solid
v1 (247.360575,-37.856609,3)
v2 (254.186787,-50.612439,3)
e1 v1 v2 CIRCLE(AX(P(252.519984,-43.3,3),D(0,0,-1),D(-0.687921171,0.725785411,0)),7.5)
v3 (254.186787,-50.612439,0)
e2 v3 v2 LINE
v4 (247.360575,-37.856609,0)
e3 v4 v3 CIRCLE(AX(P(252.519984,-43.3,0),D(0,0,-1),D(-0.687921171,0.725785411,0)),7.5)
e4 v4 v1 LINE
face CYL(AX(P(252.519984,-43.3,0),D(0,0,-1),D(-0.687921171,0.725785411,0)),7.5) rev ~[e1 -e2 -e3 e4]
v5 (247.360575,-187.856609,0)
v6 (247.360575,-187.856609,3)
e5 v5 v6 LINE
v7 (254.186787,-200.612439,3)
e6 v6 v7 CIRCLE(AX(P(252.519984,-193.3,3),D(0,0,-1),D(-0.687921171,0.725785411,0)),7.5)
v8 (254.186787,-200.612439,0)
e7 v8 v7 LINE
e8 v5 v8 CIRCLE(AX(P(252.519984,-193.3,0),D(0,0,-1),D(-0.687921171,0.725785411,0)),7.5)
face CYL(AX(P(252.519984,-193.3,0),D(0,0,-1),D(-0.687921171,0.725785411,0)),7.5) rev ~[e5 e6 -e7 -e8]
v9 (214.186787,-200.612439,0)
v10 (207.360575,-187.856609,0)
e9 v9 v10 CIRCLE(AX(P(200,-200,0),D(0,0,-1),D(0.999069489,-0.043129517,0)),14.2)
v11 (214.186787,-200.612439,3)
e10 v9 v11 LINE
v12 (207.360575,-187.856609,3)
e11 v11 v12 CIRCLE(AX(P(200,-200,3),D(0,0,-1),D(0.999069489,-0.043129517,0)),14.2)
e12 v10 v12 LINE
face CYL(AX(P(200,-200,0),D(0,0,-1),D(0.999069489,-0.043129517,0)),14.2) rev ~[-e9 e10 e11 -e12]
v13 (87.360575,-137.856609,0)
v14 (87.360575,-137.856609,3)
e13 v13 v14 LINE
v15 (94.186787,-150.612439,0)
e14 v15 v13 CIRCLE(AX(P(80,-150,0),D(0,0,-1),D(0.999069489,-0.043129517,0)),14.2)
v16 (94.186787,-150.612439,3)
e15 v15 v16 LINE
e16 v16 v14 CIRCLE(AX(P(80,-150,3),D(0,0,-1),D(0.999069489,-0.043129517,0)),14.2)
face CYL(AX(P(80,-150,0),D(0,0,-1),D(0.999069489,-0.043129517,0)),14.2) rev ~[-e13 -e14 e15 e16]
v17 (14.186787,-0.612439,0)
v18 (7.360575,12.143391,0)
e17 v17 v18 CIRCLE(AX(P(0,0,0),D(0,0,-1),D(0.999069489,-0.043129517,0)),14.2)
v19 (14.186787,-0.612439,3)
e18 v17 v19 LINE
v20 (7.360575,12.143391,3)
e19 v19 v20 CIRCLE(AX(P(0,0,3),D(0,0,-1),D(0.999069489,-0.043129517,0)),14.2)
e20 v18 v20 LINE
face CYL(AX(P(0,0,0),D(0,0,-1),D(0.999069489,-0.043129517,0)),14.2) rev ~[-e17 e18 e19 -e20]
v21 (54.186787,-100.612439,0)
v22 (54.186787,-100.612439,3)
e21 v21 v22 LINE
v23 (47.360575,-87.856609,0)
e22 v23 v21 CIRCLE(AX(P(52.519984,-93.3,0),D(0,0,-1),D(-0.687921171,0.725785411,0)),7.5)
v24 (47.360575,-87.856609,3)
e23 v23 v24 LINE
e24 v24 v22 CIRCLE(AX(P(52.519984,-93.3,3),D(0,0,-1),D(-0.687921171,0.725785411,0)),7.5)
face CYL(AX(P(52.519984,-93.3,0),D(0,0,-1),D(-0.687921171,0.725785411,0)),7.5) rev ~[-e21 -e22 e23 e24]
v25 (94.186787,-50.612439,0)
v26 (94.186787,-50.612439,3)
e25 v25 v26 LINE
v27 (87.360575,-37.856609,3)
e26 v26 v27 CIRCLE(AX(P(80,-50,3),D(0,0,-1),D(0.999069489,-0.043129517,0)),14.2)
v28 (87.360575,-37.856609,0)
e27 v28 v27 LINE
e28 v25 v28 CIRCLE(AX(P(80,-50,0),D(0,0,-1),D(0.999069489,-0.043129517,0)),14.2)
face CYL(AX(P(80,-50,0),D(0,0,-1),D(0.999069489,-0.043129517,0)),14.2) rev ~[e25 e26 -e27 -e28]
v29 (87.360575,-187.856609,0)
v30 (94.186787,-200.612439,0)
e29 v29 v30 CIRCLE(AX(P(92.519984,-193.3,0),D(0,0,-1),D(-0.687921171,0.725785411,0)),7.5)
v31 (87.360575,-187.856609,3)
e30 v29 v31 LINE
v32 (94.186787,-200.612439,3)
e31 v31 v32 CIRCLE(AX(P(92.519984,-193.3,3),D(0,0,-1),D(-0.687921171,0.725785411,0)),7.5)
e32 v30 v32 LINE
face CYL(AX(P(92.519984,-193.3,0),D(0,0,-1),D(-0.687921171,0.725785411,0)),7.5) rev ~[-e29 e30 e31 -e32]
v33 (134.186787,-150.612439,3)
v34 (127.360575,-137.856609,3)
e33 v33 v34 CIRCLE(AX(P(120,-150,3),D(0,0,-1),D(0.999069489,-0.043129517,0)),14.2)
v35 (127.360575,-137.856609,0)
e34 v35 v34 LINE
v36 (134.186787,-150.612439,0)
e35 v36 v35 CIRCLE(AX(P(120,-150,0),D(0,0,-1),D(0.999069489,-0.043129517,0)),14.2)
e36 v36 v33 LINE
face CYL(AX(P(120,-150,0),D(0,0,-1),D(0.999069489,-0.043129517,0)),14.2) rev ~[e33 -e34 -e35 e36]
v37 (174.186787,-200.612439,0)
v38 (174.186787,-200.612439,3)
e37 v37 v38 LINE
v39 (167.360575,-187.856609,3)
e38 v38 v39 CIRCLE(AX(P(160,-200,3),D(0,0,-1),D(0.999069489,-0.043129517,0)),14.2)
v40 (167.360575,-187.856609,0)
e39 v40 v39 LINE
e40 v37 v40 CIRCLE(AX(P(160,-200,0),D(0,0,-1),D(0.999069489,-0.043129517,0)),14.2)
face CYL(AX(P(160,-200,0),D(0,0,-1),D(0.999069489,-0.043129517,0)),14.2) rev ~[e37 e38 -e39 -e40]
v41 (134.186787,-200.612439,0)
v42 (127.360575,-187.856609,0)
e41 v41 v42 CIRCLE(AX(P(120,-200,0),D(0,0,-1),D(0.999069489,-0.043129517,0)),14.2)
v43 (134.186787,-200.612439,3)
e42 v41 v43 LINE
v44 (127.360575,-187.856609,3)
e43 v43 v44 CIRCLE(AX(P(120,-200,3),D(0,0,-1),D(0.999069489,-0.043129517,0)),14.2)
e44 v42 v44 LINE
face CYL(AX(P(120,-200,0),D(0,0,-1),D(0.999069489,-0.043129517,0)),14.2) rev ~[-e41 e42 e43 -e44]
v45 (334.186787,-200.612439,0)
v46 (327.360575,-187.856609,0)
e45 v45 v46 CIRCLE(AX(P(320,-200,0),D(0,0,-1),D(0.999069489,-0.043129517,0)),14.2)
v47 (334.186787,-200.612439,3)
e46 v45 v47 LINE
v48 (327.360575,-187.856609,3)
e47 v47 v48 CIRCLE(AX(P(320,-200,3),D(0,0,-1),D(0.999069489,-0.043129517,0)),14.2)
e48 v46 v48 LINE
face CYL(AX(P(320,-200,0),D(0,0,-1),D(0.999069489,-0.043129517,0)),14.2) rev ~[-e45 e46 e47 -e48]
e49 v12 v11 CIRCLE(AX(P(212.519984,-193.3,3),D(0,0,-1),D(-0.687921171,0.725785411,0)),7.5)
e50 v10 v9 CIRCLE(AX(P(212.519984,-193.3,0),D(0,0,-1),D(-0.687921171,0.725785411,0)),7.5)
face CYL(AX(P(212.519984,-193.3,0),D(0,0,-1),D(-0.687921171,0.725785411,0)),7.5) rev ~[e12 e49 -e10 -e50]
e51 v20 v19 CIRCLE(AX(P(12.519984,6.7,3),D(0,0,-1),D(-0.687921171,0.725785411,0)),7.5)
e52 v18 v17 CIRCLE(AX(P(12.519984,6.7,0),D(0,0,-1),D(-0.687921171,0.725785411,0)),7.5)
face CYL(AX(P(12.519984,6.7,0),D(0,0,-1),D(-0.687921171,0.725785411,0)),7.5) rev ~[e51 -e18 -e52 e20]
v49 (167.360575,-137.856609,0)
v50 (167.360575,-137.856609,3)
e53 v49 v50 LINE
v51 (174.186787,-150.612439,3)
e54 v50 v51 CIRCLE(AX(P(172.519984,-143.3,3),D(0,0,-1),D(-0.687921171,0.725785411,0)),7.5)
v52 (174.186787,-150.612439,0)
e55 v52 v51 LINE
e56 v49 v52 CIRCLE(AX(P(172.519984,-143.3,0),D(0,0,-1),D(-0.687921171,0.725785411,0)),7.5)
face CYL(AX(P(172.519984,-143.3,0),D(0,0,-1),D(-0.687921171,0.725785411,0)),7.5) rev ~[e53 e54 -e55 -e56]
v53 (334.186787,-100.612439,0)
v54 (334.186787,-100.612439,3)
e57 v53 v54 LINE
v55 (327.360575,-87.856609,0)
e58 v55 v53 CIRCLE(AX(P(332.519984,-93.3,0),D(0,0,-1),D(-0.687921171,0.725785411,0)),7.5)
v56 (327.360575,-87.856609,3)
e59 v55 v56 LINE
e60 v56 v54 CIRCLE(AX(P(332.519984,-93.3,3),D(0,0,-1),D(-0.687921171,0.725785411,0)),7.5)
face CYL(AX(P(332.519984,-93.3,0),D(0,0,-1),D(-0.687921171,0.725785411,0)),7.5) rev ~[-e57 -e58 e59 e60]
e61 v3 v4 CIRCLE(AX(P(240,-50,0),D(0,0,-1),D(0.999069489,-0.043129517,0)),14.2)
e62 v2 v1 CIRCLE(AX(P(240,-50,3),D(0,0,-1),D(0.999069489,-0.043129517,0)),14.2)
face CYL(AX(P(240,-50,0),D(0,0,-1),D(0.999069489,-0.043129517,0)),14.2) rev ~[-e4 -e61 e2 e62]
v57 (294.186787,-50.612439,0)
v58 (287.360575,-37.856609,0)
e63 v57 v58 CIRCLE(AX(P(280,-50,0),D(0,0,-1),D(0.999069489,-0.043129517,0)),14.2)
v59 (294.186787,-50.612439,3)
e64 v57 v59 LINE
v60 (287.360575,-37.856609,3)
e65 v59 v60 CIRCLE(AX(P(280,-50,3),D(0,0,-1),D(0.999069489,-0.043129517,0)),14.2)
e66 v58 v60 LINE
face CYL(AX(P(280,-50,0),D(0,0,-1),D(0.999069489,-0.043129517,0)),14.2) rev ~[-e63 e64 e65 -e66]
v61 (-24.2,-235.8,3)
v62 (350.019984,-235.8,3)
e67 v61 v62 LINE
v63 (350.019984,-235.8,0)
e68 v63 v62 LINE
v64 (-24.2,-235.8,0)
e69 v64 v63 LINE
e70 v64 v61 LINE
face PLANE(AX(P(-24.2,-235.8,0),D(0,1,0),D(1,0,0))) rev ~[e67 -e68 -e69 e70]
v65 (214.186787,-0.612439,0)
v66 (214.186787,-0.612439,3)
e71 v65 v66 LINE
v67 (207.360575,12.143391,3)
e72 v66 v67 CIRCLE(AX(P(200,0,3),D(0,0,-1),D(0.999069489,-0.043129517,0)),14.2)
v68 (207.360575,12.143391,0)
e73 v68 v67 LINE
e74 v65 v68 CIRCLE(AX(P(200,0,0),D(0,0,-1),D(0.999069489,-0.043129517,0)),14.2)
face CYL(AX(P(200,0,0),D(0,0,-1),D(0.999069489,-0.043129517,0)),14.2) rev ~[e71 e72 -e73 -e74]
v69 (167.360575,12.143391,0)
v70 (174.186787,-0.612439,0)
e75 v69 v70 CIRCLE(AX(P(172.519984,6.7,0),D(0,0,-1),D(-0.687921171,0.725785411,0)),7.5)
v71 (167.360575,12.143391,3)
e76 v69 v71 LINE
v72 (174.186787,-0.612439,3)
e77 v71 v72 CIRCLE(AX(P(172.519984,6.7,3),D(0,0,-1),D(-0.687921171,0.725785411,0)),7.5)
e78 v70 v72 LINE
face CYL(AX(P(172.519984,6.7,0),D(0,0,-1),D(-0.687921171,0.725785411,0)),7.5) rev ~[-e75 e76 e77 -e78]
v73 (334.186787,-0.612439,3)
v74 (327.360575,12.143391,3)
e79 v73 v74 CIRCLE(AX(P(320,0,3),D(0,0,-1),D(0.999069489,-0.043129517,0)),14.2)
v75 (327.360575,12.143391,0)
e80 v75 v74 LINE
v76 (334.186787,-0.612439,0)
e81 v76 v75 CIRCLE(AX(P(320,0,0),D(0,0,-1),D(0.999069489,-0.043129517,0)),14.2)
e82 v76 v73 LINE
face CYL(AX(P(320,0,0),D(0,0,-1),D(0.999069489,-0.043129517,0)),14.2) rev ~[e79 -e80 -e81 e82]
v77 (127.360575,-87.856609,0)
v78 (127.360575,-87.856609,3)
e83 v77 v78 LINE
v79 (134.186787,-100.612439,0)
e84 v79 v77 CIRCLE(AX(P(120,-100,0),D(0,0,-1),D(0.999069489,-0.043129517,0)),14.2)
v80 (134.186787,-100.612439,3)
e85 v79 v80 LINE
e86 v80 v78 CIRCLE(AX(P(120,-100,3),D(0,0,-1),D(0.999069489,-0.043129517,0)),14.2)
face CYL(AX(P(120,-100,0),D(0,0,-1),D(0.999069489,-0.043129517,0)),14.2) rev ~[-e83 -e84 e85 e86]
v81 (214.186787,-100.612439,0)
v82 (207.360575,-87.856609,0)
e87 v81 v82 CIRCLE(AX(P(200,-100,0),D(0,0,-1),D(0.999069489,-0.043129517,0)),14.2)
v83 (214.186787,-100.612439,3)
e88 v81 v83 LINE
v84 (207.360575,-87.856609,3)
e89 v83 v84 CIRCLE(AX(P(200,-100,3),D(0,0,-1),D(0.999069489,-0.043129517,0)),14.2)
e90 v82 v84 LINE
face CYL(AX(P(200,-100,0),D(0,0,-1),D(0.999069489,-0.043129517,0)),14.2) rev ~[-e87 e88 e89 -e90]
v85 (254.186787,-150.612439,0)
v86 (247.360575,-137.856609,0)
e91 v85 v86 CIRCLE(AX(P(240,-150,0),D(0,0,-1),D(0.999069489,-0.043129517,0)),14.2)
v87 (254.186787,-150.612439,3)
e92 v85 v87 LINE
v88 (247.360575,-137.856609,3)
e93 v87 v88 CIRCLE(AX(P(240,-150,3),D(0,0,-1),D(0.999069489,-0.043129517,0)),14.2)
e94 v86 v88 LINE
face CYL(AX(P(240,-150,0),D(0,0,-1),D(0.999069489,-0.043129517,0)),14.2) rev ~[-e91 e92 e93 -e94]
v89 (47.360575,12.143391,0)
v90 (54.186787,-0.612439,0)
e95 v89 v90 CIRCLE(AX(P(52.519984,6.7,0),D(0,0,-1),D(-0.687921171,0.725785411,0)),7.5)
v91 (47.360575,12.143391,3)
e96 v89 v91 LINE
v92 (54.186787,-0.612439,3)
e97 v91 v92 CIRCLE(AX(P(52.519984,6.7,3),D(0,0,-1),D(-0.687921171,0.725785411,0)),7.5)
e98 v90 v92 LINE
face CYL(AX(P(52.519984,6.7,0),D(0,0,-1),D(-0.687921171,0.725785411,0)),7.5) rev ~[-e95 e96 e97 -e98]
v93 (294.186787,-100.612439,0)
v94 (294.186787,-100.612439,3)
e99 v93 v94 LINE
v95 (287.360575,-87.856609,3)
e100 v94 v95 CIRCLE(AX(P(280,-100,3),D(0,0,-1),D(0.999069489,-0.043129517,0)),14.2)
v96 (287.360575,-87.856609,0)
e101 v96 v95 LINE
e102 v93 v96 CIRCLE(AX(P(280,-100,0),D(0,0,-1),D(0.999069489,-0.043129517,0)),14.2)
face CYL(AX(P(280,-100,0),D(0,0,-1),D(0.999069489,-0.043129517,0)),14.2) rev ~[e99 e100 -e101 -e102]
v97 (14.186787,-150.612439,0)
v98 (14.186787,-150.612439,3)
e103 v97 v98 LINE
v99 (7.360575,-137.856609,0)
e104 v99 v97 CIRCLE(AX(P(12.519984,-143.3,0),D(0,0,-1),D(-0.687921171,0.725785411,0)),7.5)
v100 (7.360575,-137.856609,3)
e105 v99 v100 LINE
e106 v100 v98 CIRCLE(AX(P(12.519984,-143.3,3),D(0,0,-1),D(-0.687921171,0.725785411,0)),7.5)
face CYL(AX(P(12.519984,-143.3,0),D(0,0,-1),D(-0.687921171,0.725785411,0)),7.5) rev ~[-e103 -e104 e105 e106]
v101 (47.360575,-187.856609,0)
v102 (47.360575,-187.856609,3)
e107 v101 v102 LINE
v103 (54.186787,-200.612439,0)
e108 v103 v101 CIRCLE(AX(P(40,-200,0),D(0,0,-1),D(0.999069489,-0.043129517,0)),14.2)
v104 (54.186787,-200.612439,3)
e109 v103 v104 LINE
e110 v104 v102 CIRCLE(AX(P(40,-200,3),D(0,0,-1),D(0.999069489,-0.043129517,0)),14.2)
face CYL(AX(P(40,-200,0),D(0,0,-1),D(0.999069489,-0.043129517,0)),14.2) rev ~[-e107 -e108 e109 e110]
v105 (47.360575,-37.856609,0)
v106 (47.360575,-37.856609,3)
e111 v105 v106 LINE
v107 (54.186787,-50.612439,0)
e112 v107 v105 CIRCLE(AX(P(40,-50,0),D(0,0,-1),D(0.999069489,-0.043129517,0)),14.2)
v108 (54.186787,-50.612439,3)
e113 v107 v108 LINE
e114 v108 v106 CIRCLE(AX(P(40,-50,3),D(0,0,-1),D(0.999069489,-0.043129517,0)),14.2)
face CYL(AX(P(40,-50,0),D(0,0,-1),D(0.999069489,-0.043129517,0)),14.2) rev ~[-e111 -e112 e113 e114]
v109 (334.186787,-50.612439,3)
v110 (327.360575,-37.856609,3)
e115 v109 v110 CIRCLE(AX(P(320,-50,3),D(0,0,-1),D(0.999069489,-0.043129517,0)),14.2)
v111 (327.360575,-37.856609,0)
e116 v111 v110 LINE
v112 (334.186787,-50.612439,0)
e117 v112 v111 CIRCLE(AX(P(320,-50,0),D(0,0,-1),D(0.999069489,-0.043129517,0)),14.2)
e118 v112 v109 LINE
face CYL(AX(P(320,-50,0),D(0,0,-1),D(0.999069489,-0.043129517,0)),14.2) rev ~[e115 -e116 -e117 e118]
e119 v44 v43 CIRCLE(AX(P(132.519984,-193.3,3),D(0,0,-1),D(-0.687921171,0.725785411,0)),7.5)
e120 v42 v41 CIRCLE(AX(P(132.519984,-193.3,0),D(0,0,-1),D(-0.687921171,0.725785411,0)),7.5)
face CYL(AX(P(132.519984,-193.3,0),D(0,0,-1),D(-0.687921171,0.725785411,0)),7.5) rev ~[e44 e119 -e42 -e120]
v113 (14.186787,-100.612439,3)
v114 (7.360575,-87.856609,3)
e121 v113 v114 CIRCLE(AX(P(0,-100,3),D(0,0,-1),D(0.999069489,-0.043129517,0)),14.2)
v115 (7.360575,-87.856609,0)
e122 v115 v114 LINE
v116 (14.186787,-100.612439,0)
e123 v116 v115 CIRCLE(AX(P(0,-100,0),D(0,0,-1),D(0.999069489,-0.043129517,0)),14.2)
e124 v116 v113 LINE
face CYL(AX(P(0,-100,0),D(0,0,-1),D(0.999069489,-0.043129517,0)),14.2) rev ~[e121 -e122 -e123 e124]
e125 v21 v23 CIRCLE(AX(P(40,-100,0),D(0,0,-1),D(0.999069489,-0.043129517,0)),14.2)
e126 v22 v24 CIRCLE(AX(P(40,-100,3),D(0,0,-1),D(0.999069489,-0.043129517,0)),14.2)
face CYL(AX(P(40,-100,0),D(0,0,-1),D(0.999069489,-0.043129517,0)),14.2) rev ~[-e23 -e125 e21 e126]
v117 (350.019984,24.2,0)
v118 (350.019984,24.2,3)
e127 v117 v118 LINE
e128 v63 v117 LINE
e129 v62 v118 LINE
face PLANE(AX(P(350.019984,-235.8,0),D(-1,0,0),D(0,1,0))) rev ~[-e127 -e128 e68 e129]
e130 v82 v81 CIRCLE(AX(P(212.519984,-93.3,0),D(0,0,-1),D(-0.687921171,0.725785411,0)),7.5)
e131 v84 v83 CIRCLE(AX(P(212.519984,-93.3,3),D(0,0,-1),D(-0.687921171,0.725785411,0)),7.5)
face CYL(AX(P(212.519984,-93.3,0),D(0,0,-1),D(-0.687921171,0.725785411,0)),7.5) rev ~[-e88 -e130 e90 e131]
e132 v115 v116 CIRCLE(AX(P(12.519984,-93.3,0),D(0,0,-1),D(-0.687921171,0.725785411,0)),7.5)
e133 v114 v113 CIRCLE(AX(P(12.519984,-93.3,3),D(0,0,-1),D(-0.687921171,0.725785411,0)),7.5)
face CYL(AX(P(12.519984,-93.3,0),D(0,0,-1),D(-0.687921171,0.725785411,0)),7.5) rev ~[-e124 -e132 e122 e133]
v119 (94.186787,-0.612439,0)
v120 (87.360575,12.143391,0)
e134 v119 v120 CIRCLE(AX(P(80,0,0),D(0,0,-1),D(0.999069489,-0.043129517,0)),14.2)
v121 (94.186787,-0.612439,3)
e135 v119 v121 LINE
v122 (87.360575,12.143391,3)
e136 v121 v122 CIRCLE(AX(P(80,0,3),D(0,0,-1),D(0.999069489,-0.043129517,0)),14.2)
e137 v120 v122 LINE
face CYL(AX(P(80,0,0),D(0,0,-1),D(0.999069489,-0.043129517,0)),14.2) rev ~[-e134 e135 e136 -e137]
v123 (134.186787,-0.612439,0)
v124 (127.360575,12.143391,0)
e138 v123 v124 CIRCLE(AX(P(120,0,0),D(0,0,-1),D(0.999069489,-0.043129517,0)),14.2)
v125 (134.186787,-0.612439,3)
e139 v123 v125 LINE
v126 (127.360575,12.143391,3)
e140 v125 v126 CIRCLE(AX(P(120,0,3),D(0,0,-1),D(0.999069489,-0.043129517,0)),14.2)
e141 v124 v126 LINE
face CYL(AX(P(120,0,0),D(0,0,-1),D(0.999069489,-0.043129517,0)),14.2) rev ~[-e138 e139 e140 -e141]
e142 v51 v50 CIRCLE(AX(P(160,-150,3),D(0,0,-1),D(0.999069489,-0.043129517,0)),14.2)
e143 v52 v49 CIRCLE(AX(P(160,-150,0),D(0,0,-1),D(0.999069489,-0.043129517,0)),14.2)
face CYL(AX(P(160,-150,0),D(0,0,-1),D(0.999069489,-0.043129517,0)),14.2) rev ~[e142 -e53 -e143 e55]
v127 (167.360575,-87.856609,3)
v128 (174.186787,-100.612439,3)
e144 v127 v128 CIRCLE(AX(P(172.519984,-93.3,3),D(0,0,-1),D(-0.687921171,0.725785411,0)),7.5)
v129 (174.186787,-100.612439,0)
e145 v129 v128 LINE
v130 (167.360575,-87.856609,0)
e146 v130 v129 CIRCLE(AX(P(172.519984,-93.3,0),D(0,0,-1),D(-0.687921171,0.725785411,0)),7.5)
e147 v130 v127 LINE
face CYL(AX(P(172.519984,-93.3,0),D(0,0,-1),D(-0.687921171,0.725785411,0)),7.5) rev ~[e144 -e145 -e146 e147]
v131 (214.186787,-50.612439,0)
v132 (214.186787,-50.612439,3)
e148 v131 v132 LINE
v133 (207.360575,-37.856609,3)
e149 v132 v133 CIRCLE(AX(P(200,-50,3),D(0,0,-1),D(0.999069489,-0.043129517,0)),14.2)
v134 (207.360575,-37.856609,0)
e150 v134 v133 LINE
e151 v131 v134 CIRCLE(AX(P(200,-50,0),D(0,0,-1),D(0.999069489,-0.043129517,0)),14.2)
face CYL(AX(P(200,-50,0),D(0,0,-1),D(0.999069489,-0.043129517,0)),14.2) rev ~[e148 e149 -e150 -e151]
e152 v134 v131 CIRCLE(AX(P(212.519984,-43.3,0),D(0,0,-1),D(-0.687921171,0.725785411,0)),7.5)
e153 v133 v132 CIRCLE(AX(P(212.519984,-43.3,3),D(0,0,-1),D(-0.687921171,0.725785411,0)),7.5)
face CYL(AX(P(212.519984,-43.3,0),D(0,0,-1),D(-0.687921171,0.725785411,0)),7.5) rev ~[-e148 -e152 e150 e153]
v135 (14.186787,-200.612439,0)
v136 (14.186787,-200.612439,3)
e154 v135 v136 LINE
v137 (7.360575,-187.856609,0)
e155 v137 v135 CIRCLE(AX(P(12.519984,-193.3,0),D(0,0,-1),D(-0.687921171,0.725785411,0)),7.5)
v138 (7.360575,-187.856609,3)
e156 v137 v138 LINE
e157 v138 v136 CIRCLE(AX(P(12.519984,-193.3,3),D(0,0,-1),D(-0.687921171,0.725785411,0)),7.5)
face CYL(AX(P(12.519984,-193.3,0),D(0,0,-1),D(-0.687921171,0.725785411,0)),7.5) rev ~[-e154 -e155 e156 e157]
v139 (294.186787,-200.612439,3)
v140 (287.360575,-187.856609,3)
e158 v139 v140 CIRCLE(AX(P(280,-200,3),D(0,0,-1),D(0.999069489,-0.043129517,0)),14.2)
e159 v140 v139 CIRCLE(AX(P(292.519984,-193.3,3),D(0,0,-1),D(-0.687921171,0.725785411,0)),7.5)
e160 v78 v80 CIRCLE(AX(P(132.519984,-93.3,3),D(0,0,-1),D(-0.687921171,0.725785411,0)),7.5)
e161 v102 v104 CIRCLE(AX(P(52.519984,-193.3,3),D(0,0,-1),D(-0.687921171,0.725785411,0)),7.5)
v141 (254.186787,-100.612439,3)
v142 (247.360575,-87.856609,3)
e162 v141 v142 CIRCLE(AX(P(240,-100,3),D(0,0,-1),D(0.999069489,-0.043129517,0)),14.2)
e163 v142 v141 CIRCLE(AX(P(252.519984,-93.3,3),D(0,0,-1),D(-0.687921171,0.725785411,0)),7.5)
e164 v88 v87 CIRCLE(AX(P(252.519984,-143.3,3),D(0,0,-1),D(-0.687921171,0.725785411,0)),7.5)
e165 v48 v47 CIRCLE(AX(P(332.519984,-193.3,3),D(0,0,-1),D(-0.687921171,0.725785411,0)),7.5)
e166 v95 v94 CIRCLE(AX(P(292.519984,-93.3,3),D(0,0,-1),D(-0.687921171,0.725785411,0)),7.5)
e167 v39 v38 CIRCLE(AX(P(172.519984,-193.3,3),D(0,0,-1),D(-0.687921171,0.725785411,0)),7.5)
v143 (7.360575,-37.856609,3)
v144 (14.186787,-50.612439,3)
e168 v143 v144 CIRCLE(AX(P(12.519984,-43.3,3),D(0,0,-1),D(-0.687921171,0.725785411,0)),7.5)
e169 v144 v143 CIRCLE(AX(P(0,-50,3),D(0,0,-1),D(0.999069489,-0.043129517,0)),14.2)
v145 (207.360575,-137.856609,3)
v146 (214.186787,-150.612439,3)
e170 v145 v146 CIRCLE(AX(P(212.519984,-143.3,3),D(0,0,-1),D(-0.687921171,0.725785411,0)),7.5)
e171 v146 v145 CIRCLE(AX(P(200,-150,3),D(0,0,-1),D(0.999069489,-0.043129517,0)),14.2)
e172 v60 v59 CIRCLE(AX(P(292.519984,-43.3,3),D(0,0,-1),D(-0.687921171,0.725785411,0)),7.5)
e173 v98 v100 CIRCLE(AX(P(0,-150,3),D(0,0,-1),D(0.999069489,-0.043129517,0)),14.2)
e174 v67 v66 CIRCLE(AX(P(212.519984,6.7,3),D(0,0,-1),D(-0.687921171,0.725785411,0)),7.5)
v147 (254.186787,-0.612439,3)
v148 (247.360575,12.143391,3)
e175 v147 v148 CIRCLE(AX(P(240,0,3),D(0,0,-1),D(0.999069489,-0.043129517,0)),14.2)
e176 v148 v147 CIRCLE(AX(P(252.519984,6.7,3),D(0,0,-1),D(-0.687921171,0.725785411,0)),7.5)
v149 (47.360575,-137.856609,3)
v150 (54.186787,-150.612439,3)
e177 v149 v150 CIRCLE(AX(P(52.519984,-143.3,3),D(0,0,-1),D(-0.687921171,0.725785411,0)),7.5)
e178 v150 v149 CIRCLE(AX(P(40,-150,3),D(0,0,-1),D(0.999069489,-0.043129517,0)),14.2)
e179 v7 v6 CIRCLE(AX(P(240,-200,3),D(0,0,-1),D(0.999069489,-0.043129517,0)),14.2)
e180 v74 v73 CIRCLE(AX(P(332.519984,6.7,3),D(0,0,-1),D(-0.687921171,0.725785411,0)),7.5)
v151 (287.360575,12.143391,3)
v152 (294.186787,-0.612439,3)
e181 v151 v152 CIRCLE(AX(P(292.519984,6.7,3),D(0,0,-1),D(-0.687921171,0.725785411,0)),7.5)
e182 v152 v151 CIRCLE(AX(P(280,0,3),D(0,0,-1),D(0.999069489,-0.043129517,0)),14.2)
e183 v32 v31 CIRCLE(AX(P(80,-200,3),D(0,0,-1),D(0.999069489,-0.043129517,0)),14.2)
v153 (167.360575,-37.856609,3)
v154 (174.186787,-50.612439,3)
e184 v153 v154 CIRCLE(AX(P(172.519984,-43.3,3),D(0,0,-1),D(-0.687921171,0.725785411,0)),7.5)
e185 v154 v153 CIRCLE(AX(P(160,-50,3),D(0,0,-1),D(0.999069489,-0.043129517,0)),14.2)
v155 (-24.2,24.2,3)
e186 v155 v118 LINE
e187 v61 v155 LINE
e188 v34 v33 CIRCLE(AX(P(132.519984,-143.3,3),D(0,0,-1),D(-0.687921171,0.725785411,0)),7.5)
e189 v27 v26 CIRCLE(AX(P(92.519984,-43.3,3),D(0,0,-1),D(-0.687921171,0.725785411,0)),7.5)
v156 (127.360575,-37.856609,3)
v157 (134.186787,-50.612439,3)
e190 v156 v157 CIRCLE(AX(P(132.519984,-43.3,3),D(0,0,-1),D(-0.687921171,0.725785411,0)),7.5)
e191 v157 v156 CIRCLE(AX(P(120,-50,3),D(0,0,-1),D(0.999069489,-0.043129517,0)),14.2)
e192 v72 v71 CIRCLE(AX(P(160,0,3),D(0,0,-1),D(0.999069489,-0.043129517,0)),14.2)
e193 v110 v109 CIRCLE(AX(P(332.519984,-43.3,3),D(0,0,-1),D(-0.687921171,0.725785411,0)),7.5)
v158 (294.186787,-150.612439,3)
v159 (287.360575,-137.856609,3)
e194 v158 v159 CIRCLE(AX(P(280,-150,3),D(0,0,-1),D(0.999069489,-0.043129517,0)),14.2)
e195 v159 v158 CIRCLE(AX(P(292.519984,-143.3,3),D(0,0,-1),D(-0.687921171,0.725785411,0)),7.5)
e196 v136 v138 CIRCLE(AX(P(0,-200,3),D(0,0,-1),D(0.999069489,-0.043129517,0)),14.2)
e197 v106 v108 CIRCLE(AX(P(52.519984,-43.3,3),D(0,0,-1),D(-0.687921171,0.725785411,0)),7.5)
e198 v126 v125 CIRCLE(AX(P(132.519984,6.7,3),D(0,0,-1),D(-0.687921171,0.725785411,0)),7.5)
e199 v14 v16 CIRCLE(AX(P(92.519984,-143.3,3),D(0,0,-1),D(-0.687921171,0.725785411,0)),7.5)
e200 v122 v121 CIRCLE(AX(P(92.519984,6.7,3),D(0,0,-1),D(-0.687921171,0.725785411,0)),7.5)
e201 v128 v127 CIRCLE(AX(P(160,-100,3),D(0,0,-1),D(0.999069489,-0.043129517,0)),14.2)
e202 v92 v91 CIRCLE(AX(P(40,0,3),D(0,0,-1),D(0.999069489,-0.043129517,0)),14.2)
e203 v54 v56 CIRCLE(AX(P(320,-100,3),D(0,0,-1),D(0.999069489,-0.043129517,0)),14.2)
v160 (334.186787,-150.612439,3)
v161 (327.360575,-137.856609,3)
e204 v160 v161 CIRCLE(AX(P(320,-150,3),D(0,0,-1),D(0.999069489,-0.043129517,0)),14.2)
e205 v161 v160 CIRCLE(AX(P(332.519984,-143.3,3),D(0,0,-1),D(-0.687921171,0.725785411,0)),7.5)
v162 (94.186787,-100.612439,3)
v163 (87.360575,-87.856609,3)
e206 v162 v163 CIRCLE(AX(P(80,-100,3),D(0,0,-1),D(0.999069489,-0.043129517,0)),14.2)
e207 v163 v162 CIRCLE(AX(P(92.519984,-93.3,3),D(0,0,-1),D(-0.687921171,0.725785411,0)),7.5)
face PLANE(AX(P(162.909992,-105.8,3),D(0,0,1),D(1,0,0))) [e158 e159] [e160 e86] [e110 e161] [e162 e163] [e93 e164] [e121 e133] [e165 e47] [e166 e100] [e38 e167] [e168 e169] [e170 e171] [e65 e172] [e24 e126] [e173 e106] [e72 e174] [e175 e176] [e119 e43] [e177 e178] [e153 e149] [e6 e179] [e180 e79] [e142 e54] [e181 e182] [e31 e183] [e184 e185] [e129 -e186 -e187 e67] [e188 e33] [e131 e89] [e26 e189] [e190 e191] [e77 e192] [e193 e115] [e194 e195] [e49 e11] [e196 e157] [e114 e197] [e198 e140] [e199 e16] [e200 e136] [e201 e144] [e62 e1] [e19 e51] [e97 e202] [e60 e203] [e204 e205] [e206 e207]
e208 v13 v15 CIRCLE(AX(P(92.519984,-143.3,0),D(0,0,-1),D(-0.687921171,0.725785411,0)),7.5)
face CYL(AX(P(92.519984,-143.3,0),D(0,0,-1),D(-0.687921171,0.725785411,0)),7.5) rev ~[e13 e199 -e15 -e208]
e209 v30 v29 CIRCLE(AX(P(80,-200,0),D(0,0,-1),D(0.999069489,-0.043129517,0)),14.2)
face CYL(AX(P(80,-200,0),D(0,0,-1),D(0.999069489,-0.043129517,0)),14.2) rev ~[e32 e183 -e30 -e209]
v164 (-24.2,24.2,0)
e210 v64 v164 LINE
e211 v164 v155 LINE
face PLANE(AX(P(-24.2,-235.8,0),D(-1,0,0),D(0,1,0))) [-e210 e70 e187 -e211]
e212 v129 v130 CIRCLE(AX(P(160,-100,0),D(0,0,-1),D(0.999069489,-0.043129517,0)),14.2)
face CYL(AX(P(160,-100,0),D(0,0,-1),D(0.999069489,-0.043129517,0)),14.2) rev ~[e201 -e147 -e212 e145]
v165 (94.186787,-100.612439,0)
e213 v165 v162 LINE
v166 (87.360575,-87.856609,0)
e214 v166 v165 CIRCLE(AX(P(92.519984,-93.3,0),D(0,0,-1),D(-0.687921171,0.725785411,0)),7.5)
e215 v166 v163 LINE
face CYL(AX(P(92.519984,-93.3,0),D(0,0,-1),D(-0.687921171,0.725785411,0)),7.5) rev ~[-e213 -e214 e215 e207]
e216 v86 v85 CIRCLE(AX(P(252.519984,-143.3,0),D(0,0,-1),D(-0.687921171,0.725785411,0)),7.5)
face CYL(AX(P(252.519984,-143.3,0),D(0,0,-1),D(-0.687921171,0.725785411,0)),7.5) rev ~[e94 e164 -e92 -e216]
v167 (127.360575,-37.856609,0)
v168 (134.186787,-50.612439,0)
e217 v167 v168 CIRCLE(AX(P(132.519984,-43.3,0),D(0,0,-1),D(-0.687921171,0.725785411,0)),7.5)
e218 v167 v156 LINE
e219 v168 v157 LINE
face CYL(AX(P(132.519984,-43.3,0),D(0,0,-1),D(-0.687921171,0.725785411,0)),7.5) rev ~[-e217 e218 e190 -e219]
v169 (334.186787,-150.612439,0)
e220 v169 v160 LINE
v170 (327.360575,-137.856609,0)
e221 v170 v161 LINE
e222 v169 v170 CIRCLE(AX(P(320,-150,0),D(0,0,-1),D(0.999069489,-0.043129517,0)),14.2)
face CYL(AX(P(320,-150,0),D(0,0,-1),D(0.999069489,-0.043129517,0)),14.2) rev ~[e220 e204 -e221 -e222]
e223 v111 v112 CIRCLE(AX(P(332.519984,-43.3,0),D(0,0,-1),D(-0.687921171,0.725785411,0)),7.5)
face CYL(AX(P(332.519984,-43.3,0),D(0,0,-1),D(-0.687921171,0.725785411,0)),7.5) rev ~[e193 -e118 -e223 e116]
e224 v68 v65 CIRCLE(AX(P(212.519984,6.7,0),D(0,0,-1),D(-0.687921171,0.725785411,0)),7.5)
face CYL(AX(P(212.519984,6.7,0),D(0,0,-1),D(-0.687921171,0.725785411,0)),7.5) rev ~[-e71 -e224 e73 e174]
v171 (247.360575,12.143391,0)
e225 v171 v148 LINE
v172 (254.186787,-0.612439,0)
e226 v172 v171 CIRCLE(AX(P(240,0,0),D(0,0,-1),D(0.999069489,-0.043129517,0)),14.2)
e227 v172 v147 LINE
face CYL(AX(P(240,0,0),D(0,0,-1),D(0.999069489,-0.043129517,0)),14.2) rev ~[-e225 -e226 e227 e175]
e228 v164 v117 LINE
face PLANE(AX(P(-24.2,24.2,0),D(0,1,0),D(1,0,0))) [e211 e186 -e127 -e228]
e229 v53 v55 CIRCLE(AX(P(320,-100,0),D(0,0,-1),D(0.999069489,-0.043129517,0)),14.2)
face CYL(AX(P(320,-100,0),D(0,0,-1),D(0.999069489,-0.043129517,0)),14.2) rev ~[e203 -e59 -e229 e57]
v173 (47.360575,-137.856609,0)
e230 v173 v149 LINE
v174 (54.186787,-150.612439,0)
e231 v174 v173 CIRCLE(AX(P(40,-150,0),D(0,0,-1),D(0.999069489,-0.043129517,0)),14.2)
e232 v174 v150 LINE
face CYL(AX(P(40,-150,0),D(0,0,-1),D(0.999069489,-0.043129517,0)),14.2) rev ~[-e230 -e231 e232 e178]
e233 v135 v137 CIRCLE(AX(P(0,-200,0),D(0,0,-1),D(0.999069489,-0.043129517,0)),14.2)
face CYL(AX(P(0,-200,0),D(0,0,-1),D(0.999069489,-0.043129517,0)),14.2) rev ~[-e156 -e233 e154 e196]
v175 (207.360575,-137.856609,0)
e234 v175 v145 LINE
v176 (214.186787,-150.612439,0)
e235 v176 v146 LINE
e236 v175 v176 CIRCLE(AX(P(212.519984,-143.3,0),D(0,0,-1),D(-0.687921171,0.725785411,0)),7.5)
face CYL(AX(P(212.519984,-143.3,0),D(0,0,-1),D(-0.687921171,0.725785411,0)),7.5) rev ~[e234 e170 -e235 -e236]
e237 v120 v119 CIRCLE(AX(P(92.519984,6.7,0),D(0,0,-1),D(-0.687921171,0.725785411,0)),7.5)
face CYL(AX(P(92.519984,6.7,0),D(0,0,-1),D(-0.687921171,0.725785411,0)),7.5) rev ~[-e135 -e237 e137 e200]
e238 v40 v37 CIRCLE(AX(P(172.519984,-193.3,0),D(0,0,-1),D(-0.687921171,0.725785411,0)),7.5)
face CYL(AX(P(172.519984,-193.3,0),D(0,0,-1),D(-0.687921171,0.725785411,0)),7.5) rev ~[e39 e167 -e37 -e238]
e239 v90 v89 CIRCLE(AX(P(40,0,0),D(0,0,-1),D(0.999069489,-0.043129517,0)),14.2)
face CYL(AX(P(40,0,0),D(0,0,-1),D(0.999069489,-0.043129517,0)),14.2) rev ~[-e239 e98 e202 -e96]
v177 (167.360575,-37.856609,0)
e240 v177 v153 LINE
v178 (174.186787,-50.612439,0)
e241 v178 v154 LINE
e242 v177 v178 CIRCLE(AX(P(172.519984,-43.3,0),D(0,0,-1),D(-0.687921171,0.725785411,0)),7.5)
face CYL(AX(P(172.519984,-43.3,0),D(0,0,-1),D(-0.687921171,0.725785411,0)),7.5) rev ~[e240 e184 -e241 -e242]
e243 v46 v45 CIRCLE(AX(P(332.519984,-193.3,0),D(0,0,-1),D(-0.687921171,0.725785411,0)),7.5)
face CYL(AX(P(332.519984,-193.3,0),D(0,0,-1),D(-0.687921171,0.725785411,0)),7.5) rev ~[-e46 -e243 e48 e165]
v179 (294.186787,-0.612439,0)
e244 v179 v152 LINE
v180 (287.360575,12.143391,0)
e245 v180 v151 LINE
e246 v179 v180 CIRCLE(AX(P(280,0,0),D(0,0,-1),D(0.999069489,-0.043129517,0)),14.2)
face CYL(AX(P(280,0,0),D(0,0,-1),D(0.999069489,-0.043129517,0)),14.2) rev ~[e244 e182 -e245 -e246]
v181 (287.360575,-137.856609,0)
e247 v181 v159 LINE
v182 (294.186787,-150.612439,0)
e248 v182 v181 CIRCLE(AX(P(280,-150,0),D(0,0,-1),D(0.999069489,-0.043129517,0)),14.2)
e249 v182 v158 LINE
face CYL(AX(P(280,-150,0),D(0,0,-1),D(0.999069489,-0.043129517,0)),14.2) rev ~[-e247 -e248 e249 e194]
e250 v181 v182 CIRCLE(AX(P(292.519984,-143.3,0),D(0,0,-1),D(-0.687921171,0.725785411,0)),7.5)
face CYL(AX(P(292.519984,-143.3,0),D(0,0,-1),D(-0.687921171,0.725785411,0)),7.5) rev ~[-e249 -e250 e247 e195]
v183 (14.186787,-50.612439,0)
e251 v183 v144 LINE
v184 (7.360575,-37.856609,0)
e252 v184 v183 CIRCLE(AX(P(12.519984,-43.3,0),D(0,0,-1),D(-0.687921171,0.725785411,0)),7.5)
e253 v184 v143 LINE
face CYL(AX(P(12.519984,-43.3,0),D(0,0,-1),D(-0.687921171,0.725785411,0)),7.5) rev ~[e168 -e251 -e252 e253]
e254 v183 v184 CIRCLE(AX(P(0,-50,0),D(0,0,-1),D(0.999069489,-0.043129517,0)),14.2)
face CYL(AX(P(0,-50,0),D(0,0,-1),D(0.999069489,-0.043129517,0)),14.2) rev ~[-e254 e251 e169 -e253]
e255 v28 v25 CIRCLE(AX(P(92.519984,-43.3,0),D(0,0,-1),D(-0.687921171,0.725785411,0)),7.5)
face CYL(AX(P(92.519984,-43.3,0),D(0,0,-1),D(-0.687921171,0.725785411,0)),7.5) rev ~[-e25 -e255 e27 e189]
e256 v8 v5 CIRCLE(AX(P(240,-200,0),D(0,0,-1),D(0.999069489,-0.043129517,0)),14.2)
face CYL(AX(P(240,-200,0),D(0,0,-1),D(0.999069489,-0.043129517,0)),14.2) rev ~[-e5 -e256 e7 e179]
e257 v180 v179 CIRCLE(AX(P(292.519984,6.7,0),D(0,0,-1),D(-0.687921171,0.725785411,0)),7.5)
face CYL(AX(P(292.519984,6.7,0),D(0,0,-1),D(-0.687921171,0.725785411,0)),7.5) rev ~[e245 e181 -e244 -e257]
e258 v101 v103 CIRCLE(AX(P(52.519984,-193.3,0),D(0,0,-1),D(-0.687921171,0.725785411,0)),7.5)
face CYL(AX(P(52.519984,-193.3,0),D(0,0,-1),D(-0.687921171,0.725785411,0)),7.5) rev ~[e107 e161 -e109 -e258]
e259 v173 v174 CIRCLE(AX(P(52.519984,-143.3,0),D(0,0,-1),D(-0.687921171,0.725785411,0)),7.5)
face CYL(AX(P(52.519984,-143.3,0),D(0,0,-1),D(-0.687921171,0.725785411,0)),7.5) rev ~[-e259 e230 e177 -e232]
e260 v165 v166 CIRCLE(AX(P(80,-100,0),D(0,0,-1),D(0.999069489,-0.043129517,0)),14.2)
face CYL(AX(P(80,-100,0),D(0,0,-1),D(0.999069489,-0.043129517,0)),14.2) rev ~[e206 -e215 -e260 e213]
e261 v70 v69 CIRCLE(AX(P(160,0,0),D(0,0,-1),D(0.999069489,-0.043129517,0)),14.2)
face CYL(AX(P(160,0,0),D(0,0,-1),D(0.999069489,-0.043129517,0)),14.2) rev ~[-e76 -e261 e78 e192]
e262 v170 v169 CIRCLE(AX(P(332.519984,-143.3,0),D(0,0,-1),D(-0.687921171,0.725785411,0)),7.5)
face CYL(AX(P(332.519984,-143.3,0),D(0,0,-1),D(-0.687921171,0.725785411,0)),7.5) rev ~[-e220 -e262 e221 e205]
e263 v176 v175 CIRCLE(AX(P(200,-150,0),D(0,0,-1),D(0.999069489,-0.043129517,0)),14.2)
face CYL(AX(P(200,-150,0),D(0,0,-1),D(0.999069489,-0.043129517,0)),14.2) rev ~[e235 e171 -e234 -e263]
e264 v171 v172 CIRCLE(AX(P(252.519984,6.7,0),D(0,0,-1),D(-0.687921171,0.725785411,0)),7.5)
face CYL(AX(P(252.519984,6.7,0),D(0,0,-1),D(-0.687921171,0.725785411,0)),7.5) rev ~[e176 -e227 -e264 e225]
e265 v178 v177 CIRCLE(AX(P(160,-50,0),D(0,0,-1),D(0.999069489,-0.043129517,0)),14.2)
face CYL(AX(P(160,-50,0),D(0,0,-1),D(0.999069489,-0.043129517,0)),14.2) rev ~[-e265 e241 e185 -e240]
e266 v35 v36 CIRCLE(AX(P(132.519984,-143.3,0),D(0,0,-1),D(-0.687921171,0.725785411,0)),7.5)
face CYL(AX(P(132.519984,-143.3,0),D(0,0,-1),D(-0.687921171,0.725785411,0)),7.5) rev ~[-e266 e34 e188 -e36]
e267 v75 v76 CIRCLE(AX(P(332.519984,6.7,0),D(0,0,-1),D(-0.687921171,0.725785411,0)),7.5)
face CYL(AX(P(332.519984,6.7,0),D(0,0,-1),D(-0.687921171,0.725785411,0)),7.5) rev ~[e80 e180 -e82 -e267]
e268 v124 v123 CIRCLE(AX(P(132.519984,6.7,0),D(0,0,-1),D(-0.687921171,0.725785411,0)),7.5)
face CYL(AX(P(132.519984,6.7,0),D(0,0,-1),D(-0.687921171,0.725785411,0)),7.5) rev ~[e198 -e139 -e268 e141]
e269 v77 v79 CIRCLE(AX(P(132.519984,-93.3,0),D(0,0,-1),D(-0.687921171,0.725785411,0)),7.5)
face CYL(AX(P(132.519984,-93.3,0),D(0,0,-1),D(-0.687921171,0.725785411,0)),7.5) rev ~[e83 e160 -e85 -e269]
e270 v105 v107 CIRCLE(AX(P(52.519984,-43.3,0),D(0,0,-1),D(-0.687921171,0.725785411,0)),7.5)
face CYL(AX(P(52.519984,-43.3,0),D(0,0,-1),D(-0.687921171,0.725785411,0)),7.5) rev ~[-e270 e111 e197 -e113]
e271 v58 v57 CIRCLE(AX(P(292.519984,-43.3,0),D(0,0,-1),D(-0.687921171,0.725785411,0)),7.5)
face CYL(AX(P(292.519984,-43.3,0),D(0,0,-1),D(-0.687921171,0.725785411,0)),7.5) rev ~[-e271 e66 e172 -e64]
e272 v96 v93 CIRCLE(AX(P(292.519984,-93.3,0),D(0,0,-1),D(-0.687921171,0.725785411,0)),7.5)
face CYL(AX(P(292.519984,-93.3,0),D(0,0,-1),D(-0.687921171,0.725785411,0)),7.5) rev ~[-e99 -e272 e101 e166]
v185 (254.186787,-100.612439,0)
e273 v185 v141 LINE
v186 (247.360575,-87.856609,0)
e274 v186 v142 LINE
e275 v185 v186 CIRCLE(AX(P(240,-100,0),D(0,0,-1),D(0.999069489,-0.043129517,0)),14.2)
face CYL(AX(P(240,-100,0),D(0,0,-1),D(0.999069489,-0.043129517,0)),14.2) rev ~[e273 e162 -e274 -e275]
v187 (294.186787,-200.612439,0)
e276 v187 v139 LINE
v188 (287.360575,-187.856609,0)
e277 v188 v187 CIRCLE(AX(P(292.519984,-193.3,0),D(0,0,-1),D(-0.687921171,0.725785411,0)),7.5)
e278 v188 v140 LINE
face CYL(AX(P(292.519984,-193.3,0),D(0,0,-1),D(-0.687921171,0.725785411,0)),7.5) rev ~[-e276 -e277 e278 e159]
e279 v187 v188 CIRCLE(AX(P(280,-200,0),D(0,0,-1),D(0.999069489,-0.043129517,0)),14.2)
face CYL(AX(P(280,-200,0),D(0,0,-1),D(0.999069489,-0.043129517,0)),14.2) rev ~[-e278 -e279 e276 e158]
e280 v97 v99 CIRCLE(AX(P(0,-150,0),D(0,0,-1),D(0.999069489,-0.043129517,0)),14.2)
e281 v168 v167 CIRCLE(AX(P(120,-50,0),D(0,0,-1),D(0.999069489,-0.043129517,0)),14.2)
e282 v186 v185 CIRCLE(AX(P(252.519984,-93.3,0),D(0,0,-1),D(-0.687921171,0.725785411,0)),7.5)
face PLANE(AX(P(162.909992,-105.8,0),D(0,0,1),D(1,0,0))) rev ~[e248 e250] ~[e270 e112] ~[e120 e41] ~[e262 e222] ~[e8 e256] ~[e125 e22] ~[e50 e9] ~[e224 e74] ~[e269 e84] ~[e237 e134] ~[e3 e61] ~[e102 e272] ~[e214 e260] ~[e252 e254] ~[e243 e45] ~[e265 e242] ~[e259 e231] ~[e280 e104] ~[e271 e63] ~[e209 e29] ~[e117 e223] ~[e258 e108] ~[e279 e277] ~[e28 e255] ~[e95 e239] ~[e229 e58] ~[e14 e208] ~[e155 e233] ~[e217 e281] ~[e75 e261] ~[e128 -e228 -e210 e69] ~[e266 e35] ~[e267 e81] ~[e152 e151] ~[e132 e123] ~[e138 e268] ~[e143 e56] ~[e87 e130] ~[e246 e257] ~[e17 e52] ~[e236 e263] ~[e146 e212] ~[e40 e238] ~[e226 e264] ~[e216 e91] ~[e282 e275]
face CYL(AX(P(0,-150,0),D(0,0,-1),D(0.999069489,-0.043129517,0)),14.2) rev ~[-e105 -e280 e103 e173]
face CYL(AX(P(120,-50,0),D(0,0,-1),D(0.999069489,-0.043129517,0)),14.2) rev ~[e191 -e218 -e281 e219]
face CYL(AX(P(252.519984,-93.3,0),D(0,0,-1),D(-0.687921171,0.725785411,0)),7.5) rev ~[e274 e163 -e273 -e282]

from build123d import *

# Parameters (mm, degrees)
F0_W     = 374.219984
F0_H     = 260
F1_DEPTH = 3


with BuildPart() as f1:
    # F0 (on Top) → F1 (new body)
    with BuildSketch(Plane.XY):
        with Locations((162.909992, -105.8)):
            Rectangle(F0_W, F0_H)
        with BuildLine():
            ThreePointArc((14.186787, -200.612439), (-12.519984, -206.7), (7.360575, -187.856609))
            ThreePointArc((7.360575, -187.856609), (19.132652, -189.761268), (14.186787, -200.612439))
        make_face(mode=Mode.SUBTRACT)
        with BuildLine():
            ThreePointArc((54.186787, -200.612439), (27.480016, -206.7), (47.360575, -187.856609))
            ThreePointArc((47.360575, -187.856609), (59.132652, -189.761268), (54.186787, -200.612439))
        make_face(mode=Mode.SUBTRACT)
        with BuildLine():
            ThreePointArc((94.186787, -200.612439), (67.480016, -206.7), (87.360575, -187.856609))
            ThreePointArc((87.360575, -187.856609), (99.132652, -189.761268), (94.186787, -200.612439))
        make_face(mode=Mode.SUBTRACT)
        with BuildLine():
            ThreePointArc((134.186787, -200.612439), (107.480016, -206.7), (127.360575, -187.856609))
            ThreePointArc((127.360575, -187.856609), (139.132652, -189.761268), (134.186787, -200.612439))
        make_face(mode=Mode.SUBTRACT)
        with BuildLine():
            ThreePointArc((174.186787, -200.612439), (147.480016, -206.7), (167.360575, -187.856609))
            ThreePointArc((167.360575, -187.856609), (179.132652, -189.761268), (174.186787, -200.612439))
        make_face(mode=Mode.SUBTRACT)
        with BuildLine():
            ThreePointArc((214.186787, -200.612439), (187.480016, -206.7), (207.360575, -187.856609))
            ThreePointArc((207.360575, -187.856609), (219.132652, -189.761268), (214.186787, -200.612439))
        make_face(mode=Mode.SUBTRACT)
        with BuildLine():
            ThreePointArc((14.186787, -150.612439), (-12.519984, -156.7), (7.360575, -137.856609))
            ThreePointArc((7.360575, -137.856609), (19.132652, -139.761268), (14.186787, -150.612439))
        make_face(mode=Mode.SUBTRACT)
        with BuildLine():
            ThreePointArc((54.186787, -150.612439), (27.480016, -156.7), (47.360575, -137.856609))
            ThreePointArc((47.360575, -137.856609), (59.132652, -139.761268), (54.186787, -150.612439))
        make_face(mode=Mode.SUBTRACT)
        with BuildLine():
            ThreePointArc((94.186787, -150.612439), (67.480016, -156.7), (87.360575, -137.856609))
            ThreePointArc((87.360575, -137.856609), (99.132652, -139.761268), (94.186787, -150.612439))
        make_face(mode=Mode.SUBTRACT)
        with BuildLine():
            ThreePointArc((134.186787, -150.612439), (107.480016, -156.7), (127.360575, -137.856609))
            ThreePointArc((127.360575, -137.856609), (139.132652, -139.761268), (134.186787, -150.612439))
        make_face(mode=Mode.SUBTRACT)
        with BuildLine():
            ThreePointArc((174.186787, -150.612439), (147.480016, -156.7), (167.360575, -137.856609))
            ThreePointArc((167.360575, -137.856609), (179.132652, -139.761268), (174.186787, -150.612439))
        make_face(mode=Mode.SUBTRACT)
        with BuildLine():
            ThreePointArc((214.186787, -150.612439), (187.480016, -156.7), (207.360575, -137.856609))
            ThreePointArc((207.360575, -137.856609), (219.132652, -139.761268), (214.186787, -150.612439))
        make_face(mode=Mode.SUBTRACT)
        with BuildLine():
            ThreePointArc((254.186787, -200.612439), (227.480016, -206.7), (247.360575, -187.856609))
            ThreePointArc((247.360575, -187.856609), (259.132652, -189.761268), (254.186787, -200.612439))
        make_face(mode=Mode.SUBTRACT)
        with BuildLine():
            ThreePointArc((294.186787, -200.612439), (267.480016, -206.7), (287.360575, -187.856609))
            ThreePointArc((287.360575, -187.856609), (299.132652, -189.761268), (294.186787, -200.612439))
        make_face(mode=Mode.SUBTRACT)
        with BuildLine():
            ThreePointArc((334.186787, -200.612439), (307.480016, -206.7), (327.360575, -187.856609))
            ThreePointArc((327.360575, -187.856609), (339.132652, -189.761268), (334.186787, -200.612439))
        make_face(mode=Mode.SUBTRACT)
        with BuildLine():
            ThreePointArc((254.186787, -150.612439), (227.480016, -156.7), (247.360575, -137.856609))
            ThreePointArc((247.360575, -137.856609), (259.132652, -139.761268), (254.186787, -150.612439))
        make_face(mode=Mode.SUBTRACT)
        with BuildLine():
            ThreePointArc((294.186787, -150.612439), (267.480016, -156.7), (287.360575, -137.856609))
            ThreePointArc((287.360575, -137.856609), (299.132652, -139.761268), (294.186787, -150.612439))
        make_face(mode=Mode.SUBTRACT)
        with BuildLine():
            ThreePointArc((334.186787, -150.612439), (307.480016, -156.7), (327.360575, -137.856609))
            ThreePointArc((327.360575, -137.856609), (339.132652, -139.761268), (334.186787, -150.612439))
        make_face(mode=Mode.SUBTRACT)
        with BuildLine():
            ThreePointArc((14.186787, -100.612439), (-12.519984, -106.7), (7.360575, -87.856609))
            ThreePointArc((7.360575, -87.856609), (19.132652, -89.761268), (14.186787, -100.612439))
        make_face(mode=Mode.SUBTRACT)
        with BuildLine():
            ThreePointArc((54.186787, -100.612439), (27.480016, -106.7), (47.360575, -87.856609))
            ThreePointArc((47.360575, -87.856609), (59.132652, -89.761268), (54.186787, -100.612439))
        make_face(mode=Mode.SUBTRACT)
        with BuildLine():
            ThreePointArc((94.186787, -100.612439), (67.480016, -106.7), (87.360575, -87.856609))
            ThreePointArc((87.360575, -87.856609), (99.132652, -89.761268), (94.186787, -100.612439))
        make_face(mode=Mode.SUBTRACT)
        with BuildLine():
            ThreePointArc((14.186787, -50.612439), (-12.519984, -56.7), (7.360575, -37.856609))
            ThreePointArc((7.360575, -37.856609), (19.132652, -39.761268), (14.186787, -50.612439))
        make_face(mode=Mode.SUBTRACT)
        with BuildLine():
            ThreePointArc((54.186787, -50.612439), (27.480016, -56.7), (47.360575, -37.856609))
            ThreePointArc((47.360575, -37.856609), (59.132652, -39.761268), (54.186787, -50.612439))
        make_face(mode=Mode.SUBTRACT)
        with BuildLine():
            ThreePointArc((94.186787, -50.612439), (67.480016, -56.7), (87.360575, -37.856609))
            ThreePointArc((87.360575, -37.856609), (99.132652, -39.761268), (94.186787, -50.612439))
        make_face(mode=Mode.SUBTRACT)
        with BuildLine():
            ThreePointArc((134.186787, -100.612439), (107.480016, -106.7), (127.360575, -87.856609))
            ThreePointArc((127.360575, -87.856609), (139.132652, -89.761268), (134.186787, -100.612439))
        make_face(mode=Mode.SUBTRACT)
        with BuildLine():
            ThreePointArc((174.186787, -100.612439), (147.480016, -106.7), (167.360575, -87.856609))
            ThreePointArc((167.360575, -87.856609), (179.132652, -89.761268), (174.186787, -100.612439))
        make_face(mode=Mode.SUBTRACT)
        with BuildLine():
            ThreePointArc((214.186787, -100.612439), (187.480016, -106.7), (207.360575, -87.856609))
            ThreePointArc((207.360575, -87.856609), (219.132652, -89.761268), (214.186787, -100.612439))
        make_face(mode=Mode.SUBTRACT)
        with BuildLine():
            ThreePointArc((134.186787, -50.612439), (107.480016, -56.7), (127.360575, -37.856609))
            ThreePointArc((127.360575, -37.856609), (139.132652, -39.761268), (134.186787, -50.612439))
        make_face(mode=Mode.SUBTRACT)
        with BuildLine():
            ThreePointArc((174.186787, -50.612439), (147.480016, -56.7), (167.360575, -37.856609))
            ThreePointArc((167.360575, -37.856609), (179.132652, -39.761268), (174.186787, -50.612439))
        make_face(mode=Mode.SUBTRACT)
        with BuildLine():
            ThreePointArc((214.186787, -50.612439), (187.480016, -56.7), (207.360575, -37.856609))
            ThreePointArc((207.360575, -37.856609), (219.132652, -39.761268), (214.186787, -50.612439))
        make_face(mode=Mode.SUBTRACT)
        with BuildLine():
            ThreePointArc((14.186787, -0.612439), (-12.519984, -6.7), (7.360575, 12.143391))
            ThreePointArc((7.360575, 12.143391), (19.132652, 10.238732), (14.186787, -0.612439))
        make_face(mode=Mode.SUBTRACT)
        with BuildLine():
            ThreePointArc((54.186787, -0.612439), (27.480016, -6.7), (47.360575, 12.143391))
            ThreePointArc((47.360575, 12.143391), (59.132652, 10.238732), (54.186787, -0.612439))
        make_face(mode=Mode.SUBTRACT)
        with BuildLine():
            ThreePointArc((94.186787, -0.612439), (67.480016, -6.7), (87.360575, 12.143391))
            ThreePointArc((87.360575, 12.143391), (99.132652, 10.238732), (94.186787, -0.612439))
        make_face(mode=Mode.SUBTRACT)
        with BuildLine():
            ThreePointArc((134.186787, -0.612439), (107.480016, -6.7), (127.360575, 12.143391))
            ThreePointArc((127.360575, 12.143391), (139.132652, 10.238732), (134.186787, -0.612439))
        make_face(mode=Mode.SUBTRACT)
        with BuildLine():
            ThreePointArc((174.186787, -0.612439), (147.480016, -6.7), (167.360575, 12.143391))
            ThreePointArc((167.360575, 12.143391), (179.132652, 10.238732), (174.186787, -0.612439))
        make_face(mode=Mode.SUBTRACT)
        with BuildLine():
            ThreePointArc((214.186787, -0.612439), (187.480016, -6.7), (207.360575, 12.143391))
            ThreePointArc((207.360575, 12.143391), (219.132652, 10.238732), (214.186787, -0.612439))
        make_face(mode=Mode.SUBTRACT)
        with BuildLine():
            ThreePointArc((254.186787, -100.612439), (227.480016, -106.7), (247.360575, -87.856609))
            ThreePointArc((247.360575, -87.856609), (259.132652, -89.761268), (254.186787, -100.612439))
        make_face(mode=Mode.SUBTRACT)
        with BuildLine():
            ThreePointArc((294.186787, -100.612439), (267.480016, -106.7), (287.360575, -87.856609))
            ThreePointArc((287.360575, -87.856609), (299.132652, -89.761268), (294.186787, -100.612439))
        make_face(mode=Mode.SUBTRACT)
        with BuildLine():
            ThreePointArc((334.186787, -100.612439), (307.480016, -106.7), (327.360575, -87.856609))
            ThreePointArc((327.360575, -87.856609), (339.132652, -89.761268), (334.186787, -100.612439))
        make_face(mode=Mode.SUBTRACT)
        with BuildLine():
            ThreePointArc((254.186787, -50.612439), (227.480016, -56.7), (247.360575, -37.856609))
            ThreePointArc((247.360575, -37.856609), (259.132652, -39.761268), (254.186787, -50.612439))
        make_face(mode=Mode.SUBTRACT)
        with BuildLine():
            ThreePointArc((294.186787, -50.612439), (267.480016, -56.7), (287.360575, -37.856609))
            ThreePointArc((287.360575, -37.856609), (299.132652, -39.761268), (294.186787, -50.612439))
        make_face(mode=Mode.SUBTRACT)
        with BuildLine():
            ThreePointArc((334.186787, -50.612439), (307.480016, -56.7), (327.360575, -37.856609))
            ThreePointArc((327.360575, -37.856609), (339.132652, -39.761268), (334.186787, -50.612439))
        make_face(mode=Mode.SUBTRACT)
        with BuildLine():
            ThreePointArc((254.186787, -0.612439), (227.480016, -6.7), (247.360575, 12.143391))
            ThreePointArc((247.360575, 12.143391), (259.132652, 10.238732), (254.186787, -0.612439))
        make_face(mode=Mode.SUBTRACT)
        with BuildLine():
            ThreePointArc((294.186787, -0.612439), (267.480016, -6.7), (287.360575, 12.143391))
            ThreePointArc((287.360575, 12.143391), (299.132652, 10.238732), (294.186787, -0.612439))
        make_face(mode=Mode.SUBTRACT)
        with BuildLine():
            ThreePointArc((334.186787, -0.612439), (307.480016, -6.7), (327.360575, 12.143391))
            ThreePointArc((327.360575, 12.143391), (339.132652, 10.238732), (334.186787, -0.612439))
        make_face(mode=Mode.SUBTRACT)
    extrude(amount=F1_DEPTH)


solid = f1.part
